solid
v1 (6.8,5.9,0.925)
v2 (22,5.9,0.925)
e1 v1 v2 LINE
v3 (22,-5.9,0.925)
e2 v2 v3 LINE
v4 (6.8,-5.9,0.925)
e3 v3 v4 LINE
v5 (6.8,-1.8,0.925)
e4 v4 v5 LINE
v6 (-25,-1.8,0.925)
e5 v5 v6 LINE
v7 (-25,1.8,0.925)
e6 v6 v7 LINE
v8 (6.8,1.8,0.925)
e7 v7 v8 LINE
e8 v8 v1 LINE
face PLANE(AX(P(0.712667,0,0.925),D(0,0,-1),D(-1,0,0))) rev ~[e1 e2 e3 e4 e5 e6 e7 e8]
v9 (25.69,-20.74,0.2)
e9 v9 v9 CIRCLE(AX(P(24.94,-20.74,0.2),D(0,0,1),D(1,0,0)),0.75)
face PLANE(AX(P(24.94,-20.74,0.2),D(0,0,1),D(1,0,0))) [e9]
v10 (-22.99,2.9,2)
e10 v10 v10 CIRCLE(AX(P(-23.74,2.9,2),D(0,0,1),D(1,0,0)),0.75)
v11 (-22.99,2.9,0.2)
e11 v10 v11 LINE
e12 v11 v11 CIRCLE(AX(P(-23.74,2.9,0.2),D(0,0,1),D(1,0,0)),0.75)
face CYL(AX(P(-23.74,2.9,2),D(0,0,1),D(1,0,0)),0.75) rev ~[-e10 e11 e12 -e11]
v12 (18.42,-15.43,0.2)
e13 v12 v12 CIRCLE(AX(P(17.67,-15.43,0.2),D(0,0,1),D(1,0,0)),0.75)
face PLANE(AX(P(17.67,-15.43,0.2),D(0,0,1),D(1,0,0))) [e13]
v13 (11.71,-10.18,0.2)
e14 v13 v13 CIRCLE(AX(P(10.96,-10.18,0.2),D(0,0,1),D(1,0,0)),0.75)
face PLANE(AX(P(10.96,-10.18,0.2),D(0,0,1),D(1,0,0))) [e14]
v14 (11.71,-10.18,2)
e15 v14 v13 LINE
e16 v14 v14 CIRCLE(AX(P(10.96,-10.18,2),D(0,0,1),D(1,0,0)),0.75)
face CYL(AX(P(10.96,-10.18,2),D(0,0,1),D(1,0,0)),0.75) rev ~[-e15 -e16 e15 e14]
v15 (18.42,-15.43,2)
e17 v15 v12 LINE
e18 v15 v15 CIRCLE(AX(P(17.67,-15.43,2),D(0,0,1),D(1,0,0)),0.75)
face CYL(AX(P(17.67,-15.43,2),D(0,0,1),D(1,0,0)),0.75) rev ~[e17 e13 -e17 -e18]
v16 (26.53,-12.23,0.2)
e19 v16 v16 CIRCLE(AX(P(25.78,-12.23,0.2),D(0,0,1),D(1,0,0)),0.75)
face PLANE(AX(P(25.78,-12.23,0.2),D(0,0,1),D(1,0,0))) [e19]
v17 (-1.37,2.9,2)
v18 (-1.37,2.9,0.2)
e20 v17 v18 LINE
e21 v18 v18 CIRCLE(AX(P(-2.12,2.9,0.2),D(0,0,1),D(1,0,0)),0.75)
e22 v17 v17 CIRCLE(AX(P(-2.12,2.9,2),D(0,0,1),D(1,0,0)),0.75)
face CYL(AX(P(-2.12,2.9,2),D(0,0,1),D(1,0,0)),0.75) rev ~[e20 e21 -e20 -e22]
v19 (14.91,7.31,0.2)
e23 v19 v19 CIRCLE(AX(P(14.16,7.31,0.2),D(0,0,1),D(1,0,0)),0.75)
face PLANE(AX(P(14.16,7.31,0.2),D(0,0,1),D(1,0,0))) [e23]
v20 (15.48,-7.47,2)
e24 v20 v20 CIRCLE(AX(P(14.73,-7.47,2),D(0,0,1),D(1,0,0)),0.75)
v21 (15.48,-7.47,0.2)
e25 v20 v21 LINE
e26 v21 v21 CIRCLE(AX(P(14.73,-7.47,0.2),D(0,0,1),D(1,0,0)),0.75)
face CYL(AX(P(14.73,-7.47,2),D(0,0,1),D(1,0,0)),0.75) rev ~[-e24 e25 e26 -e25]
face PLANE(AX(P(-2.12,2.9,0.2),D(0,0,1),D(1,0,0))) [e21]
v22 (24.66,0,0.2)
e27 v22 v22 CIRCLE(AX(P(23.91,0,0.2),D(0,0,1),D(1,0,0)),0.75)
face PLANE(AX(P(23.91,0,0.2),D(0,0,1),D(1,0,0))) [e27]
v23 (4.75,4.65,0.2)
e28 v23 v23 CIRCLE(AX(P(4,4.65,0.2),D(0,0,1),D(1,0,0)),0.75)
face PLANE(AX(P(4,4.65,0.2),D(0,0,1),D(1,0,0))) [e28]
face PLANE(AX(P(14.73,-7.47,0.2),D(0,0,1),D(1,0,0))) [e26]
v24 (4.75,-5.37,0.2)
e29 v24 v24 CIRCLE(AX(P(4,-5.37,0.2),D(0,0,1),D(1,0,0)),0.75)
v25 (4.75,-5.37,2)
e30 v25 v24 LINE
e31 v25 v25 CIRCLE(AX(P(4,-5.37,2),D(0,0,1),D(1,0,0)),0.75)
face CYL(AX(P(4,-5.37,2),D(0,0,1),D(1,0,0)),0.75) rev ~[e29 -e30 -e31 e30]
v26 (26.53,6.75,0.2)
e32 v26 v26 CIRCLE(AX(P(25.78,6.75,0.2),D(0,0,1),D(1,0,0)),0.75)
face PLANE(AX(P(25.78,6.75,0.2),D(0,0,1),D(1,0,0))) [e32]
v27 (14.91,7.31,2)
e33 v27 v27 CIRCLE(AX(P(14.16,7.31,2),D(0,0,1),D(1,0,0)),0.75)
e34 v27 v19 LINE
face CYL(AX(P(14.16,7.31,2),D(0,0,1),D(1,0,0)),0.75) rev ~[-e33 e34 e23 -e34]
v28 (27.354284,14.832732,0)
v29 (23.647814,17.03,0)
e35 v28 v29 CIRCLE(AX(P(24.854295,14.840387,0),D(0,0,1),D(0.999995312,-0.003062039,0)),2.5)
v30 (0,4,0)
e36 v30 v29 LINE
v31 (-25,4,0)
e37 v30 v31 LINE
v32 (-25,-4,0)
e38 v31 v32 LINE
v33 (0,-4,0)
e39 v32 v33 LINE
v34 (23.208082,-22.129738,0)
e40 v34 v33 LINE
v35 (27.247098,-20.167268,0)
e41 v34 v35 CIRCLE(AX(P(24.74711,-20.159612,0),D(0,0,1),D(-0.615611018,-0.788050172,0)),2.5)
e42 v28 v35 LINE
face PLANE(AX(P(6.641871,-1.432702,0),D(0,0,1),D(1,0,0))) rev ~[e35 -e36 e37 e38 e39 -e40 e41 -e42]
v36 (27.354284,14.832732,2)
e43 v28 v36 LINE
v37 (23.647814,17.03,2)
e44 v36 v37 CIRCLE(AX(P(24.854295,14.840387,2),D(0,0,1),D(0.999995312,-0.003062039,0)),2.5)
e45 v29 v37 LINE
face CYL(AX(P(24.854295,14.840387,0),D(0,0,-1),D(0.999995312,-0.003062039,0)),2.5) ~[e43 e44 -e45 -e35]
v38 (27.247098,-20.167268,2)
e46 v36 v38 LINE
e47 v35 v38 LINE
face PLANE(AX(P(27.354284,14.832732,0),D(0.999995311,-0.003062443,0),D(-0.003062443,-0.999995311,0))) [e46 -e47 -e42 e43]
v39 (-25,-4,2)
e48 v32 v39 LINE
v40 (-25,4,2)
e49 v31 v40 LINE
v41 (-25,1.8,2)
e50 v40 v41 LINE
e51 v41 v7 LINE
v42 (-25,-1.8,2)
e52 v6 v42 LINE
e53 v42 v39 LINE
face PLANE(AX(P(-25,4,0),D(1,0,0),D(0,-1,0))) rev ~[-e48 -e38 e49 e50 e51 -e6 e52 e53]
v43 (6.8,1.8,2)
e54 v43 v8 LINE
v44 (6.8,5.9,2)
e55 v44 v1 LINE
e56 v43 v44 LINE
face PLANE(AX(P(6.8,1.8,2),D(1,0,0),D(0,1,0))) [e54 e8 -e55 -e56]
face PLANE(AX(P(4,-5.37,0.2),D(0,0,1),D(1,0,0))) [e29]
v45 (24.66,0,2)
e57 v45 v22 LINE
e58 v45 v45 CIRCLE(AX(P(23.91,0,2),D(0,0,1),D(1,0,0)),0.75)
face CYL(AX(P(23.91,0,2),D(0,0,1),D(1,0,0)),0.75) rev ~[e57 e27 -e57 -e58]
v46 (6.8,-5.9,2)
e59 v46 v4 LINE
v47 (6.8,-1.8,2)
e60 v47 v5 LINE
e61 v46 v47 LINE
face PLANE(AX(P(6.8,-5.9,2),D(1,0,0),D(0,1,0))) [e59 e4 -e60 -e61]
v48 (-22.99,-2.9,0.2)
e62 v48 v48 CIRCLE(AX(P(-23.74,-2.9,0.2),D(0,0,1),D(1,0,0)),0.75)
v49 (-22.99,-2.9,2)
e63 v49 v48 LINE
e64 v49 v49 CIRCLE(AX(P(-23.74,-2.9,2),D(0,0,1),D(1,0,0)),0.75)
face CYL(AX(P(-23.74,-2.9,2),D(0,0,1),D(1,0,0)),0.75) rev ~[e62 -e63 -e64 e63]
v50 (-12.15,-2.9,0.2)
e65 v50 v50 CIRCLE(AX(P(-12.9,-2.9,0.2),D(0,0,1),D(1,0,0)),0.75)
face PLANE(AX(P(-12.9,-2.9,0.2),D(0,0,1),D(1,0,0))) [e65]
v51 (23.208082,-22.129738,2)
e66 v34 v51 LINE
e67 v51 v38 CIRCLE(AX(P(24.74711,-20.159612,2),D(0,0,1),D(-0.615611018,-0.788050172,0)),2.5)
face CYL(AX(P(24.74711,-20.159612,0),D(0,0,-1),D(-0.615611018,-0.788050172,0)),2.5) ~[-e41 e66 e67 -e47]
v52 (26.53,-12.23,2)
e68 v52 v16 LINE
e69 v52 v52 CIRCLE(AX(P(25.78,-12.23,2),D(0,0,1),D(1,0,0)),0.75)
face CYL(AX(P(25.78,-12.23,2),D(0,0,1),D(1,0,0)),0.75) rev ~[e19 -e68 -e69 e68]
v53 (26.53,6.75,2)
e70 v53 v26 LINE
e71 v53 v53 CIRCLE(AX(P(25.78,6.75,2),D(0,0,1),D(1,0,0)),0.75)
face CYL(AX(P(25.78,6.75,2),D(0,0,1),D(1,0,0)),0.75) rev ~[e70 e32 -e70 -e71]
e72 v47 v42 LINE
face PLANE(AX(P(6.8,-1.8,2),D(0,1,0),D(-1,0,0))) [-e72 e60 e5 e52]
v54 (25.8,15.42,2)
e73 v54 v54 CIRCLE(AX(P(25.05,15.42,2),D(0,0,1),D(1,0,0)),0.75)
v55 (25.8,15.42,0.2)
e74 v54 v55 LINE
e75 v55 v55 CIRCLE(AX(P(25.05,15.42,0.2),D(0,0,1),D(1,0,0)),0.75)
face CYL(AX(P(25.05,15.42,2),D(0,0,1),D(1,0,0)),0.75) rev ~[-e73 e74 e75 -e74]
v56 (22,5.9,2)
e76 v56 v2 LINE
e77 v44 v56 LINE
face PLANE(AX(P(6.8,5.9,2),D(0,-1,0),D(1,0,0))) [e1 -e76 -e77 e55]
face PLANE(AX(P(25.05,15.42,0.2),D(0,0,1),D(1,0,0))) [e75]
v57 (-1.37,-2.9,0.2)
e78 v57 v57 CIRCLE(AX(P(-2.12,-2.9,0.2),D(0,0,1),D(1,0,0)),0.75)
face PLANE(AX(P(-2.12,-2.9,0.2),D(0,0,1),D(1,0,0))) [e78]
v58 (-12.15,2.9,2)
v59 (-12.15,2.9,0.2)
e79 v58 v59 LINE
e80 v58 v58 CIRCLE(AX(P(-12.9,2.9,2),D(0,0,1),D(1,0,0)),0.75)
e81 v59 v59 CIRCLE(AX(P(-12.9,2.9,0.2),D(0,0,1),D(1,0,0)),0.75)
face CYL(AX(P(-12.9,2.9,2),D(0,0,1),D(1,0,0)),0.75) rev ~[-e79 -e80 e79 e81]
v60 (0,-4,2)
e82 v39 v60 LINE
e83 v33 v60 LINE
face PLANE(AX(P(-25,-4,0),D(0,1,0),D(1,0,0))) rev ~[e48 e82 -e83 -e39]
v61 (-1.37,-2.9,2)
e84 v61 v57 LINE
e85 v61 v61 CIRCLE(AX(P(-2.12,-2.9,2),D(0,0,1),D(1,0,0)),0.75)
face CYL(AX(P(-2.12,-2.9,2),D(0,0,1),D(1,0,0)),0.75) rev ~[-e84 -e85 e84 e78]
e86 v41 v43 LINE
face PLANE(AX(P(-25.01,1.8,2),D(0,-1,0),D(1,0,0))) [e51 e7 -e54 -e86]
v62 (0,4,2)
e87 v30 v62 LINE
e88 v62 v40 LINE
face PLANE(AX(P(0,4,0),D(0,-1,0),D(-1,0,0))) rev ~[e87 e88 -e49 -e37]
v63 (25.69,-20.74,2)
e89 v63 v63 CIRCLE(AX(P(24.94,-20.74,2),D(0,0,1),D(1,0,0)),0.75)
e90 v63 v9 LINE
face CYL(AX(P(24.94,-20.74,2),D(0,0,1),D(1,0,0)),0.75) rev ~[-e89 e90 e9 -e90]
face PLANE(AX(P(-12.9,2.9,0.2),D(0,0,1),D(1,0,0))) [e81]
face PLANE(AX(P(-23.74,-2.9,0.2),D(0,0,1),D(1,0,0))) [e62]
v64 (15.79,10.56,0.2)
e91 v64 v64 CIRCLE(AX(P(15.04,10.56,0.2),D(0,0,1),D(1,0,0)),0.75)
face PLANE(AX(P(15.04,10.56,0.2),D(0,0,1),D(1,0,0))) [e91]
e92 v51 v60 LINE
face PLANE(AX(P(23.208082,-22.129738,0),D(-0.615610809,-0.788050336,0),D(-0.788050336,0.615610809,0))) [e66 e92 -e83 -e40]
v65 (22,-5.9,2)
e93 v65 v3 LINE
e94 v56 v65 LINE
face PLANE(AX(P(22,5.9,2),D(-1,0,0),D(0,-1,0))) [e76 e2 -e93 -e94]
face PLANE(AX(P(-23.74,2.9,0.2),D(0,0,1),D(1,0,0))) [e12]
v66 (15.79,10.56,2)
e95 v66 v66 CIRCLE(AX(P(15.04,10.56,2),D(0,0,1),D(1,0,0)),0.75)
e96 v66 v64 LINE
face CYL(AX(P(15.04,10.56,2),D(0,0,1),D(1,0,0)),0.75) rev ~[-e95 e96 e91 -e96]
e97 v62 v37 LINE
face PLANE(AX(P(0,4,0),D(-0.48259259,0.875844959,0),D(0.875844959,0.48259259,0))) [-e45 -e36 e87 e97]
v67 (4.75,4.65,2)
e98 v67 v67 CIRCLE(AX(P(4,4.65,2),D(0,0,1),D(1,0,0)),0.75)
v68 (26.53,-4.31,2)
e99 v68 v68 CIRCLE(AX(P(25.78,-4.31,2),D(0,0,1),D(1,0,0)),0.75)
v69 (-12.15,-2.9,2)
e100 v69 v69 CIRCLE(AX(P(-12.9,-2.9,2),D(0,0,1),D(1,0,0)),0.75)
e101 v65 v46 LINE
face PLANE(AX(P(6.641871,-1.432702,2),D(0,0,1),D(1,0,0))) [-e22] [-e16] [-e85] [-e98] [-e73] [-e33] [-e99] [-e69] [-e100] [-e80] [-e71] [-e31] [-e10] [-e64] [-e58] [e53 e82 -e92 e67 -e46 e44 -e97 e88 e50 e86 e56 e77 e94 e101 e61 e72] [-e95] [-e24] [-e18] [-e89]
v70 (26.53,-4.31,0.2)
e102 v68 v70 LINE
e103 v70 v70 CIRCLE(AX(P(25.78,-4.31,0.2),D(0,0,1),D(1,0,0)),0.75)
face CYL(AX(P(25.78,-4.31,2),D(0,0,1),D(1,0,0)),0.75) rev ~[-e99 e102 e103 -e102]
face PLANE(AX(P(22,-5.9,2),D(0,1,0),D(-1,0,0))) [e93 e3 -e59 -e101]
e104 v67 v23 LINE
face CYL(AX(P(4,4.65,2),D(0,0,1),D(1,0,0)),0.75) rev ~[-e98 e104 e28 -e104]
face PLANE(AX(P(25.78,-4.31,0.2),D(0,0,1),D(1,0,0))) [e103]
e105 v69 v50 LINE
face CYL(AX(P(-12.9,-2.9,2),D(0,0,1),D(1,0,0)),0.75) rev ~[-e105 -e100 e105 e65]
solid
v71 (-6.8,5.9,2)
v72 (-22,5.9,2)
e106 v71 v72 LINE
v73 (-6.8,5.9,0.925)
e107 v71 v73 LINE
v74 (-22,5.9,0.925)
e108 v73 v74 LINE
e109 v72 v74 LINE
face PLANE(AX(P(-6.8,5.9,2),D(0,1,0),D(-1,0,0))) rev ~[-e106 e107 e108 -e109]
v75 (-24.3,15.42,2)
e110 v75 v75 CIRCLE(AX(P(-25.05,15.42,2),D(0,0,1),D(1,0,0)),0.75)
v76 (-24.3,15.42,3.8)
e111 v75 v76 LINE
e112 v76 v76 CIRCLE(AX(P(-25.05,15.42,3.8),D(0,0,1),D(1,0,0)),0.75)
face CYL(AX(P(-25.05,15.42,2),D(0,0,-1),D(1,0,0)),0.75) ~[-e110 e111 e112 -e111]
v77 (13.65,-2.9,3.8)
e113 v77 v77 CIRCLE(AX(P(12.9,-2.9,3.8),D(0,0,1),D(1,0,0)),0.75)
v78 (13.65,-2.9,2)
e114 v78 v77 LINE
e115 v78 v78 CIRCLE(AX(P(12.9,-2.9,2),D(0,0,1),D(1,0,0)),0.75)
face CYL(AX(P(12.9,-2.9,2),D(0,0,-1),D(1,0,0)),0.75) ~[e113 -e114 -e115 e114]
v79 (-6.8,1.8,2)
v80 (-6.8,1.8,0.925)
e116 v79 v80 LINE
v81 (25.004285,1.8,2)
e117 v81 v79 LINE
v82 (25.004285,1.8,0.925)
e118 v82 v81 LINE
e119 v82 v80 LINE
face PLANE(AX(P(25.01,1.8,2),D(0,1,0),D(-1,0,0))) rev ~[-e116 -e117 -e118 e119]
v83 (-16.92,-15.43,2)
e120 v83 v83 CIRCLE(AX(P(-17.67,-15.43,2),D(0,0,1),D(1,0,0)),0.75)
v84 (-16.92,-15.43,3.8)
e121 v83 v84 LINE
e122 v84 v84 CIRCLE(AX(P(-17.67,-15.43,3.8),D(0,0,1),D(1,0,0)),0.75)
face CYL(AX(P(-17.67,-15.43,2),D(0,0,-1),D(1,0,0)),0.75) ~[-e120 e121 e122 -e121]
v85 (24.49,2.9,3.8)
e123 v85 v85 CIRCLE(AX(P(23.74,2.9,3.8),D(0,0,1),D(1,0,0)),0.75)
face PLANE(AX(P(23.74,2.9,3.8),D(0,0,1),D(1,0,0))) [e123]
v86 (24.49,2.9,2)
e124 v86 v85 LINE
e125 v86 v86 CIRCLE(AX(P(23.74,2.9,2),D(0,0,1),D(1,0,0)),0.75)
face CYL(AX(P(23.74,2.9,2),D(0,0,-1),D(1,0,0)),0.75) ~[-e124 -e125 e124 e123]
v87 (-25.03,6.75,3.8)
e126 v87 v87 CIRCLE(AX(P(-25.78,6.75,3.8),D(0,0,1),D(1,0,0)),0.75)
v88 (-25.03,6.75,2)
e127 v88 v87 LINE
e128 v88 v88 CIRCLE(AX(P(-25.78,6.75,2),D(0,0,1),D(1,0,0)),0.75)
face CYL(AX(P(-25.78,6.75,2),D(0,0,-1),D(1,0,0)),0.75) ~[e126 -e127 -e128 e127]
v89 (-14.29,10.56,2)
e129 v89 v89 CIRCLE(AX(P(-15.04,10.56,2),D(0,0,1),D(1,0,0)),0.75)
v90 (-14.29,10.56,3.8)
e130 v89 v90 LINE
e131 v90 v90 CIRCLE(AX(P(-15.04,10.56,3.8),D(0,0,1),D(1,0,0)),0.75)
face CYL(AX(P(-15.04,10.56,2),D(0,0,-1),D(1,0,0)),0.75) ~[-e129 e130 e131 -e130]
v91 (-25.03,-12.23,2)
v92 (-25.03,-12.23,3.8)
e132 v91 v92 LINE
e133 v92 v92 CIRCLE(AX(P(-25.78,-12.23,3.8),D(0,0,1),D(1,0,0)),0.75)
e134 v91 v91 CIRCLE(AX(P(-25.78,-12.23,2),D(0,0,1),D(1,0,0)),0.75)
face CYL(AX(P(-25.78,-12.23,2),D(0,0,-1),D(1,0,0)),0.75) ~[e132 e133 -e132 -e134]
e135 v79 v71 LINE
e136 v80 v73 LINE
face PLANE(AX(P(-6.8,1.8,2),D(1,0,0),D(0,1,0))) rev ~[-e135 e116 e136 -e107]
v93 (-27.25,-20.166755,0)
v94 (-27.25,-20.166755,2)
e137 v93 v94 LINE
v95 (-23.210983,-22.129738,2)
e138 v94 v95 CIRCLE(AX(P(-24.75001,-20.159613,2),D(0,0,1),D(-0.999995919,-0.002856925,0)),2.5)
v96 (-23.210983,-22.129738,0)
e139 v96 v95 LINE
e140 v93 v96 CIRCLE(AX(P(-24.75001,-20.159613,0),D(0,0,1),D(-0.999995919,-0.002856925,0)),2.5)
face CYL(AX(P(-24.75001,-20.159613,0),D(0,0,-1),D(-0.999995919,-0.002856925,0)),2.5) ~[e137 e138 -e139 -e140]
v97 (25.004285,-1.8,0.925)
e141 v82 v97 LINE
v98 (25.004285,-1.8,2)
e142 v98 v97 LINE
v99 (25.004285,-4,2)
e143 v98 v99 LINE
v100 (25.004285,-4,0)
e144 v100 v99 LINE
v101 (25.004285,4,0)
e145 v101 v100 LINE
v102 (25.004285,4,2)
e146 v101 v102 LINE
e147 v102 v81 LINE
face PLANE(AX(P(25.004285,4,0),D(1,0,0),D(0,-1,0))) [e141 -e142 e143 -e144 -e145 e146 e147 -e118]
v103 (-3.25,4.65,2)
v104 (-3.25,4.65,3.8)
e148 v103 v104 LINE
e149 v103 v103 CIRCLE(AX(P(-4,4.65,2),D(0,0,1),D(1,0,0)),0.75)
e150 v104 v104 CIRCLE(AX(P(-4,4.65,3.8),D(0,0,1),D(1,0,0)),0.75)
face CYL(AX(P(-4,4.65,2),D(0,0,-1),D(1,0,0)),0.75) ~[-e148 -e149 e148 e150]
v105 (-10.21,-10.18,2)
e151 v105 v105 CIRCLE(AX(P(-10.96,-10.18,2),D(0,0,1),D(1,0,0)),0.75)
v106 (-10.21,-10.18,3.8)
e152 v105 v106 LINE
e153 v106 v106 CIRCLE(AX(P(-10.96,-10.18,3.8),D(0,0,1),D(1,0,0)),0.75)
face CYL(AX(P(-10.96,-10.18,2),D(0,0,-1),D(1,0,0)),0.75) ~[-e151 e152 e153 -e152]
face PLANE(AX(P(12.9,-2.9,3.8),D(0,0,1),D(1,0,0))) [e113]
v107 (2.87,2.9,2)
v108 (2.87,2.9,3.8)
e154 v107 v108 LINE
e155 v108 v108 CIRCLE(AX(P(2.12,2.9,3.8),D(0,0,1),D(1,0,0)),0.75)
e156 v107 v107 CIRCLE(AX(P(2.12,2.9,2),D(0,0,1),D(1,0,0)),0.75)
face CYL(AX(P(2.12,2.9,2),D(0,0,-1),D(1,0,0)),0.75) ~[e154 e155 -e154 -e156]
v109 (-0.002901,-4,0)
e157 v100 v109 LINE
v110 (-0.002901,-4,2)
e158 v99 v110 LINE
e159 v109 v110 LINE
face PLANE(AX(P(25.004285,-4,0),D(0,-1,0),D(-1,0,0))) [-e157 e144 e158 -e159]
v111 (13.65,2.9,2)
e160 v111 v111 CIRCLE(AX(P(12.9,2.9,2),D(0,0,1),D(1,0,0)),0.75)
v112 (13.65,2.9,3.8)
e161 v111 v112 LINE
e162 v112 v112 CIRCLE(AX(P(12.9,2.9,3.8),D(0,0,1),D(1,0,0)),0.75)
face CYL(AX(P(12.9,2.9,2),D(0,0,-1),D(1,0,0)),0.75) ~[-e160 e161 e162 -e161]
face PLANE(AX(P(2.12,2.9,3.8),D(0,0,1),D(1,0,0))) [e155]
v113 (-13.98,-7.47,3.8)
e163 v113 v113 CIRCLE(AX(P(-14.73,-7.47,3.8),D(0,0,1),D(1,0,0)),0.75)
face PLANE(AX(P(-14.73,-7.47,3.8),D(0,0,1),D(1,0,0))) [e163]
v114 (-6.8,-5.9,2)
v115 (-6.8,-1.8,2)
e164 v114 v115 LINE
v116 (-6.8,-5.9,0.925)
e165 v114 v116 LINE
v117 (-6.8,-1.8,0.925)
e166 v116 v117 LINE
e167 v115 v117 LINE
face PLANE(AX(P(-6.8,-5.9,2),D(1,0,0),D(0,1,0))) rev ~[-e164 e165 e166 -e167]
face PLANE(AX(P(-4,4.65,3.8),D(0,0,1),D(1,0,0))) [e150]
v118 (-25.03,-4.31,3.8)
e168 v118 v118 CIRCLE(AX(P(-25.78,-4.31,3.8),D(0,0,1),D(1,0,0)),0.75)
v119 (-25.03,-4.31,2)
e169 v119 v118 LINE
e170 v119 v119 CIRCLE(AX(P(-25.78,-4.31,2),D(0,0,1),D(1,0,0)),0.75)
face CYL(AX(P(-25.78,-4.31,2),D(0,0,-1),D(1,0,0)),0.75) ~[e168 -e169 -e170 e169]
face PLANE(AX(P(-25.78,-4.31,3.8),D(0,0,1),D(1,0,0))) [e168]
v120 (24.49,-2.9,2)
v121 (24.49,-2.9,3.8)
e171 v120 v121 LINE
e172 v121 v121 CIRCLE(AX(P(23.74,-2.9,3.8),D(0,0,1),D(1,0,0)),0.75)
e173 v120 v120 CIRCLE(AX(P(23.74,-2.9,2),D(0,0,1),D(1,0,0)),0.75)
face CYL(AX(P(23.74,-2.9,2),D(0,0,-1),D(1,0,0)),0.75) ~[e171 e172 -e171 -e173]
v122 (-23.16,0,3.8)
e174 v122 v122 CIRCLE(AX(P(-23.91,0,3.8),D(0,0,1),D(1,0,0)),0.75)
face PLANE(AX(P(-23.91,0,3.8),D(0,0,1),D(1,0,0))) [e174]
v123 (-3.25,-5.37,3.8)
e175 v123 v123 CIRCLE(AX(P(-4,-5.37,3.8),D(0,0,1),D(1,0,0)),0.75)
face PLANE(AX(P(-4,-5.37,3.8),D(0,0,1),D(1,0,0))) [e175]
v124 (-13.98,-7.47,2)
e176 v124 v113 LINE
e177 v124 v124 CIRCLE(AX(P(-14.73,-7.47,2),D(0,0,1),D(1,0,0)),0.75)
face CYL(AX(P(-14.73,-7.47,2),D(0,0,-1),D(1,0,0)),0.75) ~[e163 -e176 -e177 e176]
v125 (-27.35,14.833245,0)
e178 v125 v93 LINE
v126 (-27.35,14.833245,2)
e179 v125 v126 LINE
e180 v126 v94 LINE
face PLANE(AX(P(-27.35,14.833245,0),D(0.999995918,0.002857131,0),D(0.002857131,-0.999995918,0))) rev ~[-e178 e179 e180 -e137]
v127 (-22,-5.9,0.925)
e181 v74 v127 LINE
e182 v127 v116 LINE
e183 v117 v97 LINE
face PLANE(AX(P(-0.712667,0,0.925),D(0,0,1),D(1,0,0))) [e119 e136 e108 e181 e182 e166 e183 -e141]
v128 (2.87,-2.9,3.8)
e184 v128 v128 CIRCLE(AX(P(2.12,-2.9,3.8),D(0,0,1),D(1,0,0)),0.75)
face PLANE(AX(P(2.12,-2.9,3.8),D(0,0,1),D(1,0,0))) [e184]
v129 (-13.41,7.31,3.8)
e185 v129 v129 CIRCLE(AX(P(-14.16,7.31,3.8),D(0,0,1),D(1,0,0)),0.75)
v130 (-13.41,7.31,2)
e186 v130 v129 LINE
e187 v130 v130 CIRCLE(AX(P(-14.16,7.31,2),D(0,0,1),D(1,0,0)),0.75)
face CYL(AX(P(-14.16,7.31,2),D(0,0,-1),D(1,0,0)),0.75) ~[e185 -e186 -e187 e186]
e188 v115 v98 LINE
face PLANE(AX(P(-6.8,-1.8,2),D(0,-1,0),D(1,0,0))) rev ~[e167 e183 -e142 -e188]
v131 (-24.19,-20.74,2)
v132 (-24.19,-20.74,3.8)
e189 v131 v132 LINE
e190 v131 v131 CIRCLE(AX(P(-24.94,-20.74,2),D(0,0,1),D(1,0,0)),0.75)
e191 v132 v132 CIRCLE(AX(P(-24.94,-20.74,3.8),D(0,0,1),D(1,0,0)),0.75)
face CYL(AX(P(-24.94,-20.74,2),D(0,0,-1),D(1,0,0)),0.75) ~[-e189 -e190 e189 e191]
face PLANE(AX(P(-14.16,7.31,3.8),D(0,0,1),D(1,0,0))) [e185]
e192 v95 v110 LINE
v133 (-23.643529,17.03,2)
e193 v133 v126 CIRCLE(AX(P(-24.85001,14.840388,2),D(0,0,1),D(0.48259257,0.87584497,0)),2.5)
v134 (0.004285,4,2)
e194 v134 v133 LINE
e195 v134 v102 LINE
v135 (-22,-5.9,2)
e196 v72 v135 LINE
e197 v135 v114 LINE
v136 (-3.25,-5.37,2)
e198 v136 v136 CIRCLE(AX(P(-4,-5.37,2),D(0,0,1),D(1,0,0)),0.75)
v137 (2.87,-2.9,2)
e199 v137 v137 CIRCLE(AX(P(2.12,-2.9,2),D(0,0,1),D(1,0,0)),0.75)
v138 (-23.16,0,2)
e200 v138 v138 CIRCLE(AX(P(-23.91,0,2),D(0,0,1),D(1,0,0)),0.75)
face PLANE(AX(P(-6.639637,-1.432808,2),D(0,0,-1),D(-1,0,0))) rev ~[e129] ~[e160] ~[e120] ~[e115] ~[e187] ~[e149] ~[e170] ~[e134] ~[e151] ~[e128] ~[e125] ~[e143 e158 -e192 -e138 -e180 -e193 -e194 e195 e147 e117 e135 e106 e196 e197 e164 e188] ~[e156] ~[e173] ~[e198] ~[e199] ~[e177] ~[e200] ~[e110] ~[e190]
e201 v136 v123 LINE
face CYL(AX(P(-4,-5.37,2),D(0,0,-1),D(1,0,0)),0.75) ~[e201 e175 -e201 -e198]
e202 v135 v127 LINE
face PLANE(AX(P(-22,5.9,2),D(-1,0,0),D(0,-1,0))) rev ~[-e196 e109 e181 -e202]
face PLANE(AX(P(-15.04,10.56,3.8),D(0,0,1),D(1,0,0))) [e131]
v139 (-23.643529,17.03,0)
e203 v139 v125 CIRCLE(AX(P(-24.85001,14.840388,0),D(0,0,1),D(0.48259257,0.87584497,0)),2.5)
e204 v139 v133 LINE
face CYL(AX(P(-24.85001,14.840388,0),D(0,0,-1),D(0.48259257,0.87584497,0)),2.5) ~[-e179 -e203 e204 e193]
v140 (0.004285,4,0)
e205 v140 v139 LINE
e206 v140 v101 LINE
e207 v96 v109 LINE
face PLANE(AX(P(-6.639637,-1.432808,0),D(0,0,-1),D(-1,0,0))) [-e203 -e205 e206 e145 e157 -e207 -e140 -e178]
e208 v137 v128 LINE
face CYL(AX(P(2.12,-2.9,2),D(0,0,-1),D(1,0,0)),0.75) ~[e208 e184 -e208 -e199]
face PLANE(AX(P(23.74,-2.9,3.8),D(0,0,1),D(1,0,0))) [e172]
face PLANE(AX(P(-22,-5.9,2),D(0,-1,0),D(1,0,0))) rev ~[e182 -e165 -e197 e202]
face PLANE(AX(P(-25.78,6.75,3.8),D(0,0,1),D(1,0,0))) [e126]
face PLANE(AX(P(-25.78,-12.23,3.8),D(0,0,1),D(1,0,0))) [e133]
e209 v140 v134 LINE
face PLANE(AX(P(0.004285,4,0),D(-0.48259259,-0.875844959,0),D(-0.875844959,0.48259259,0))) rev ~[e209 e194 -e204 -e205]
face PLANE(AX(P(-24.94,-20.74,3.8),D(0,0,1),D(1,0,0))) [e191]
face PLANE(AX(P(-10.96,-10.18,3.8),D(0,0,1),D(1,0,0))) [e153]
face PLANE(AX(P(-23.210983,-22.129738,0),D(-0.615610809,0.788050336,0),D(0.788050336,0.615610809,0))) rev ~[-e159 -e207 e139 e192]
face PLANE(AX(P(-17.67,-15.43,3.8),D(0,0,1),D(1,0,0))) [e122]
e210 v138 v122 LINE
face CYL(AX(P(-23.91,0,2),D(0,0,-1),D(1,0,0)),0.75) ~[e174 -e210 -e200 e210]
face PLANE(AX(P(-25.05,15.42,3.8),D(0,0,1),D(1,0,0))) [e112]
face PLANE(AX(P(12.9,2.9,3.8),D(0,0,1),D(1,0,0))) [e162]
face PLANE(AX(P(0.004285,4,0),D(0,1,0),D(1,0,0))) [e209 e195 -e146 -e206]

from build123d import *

# Parameters (mm, degrees)
PAD_DEPTH           = 2
POCKET_DEPTH        = 1.075
SKETCH002_R         = 0.75
POCKET001_DEPTH     = 1.8
PAD001_DEPTH        = 2
POCKET002_DEPTH     = 1.075
MIRROREDSKETCH002_R = 0.75
PAD002_DEPTH        = 1.8


with BuildPart() as keybody:
    # Sketch → Pad (new body)
    with BuildSketch(Plane.XY):
        with BuildLine():
            Line((0, 4), (-25, 4))
            Line((-25, 4), (-25, -4))
            Line((-25, -4), (0, -4))
            Line((23.208082, -22.129738), (0, -4))
            ThreePointArc((23.208082, -22.129738), (25.839668, -22.408238), (27.247098, -20.167268))
            Line((27.354284, 14.832732), (27.247098, -20.167268))
            ThreePointArc((27.354284, 14.832732), (26.129163, 16.990902), (23.647814, 17.03))
            Line((0, 4), (23.647814, 17.03))
        make_face()
    extrude(amount=PAD_DEPTH)

    # Sketch001 (on Face10 of Pad) → Pocket (cut)
    with BuildSketch(Plane.XY.offset(2)):
        Polygon((6.8, 5.9), (22, 5.9), (22, -5.9), (6.8, -5.9), (6.8, -1.8), (-25.01, -1.8), (-25.01, 1.8), (6.8, 1.8), align=None)
    extrude(amount=-POCKET_DEPTH, mode=Mode.SUBTRACT)

    # Sketch002 (on Face5 of Pocket) → Pocket001 (cut)
    with BuildSketch(Plane.XY.offset(2)):
        with Locations((-23.74, 2.9)):
            Circle(SKETCH002_R)
        with Locations((-23.74, -2.9)):
            Circle(SKETCH002_R)
        with Locations((-12.9, 2.9)):
            Circle(SKETCH002_R)
        with Locations((-2.12, 2.9)):
            Circle(SKETCH002_R)
        with Locations((-2.12, -2.9)):
            Circle(SKETCH002_R)
        with Locations((-12.9, -2.9)):
            Circle(SKETCH002_R)
        with Locations((4, 4.65)):
            Circle(SKETCH002_R)
        with Locations((4, -5.37)):
            Circle(SKETCH002_R)
        with Locations((14.73, -7.47)):
            Circle(SKETCH002_R)
        with Locations((14.16, 7.31)):
            Circle(SKETCH002_R)
        with Locations((23.91, 0)):
            Circle(SKETCH002_R)
        with Locations((15.04, 10.56)):
            Circle(SKETCH002_R)
        with Locations((25.05, 15.42)):
            Circle(SKETCH002_R)
        with Locations((25.78, 6.75)):
            Circle(SKETCH002_R)
        with Locations((25.78, -4.31)):
            Circle(SKETCH002_R)
        with Locations((25.78, -12.23)):
            Circle(SKETCH002_R)
        with Locations((24.94, -20.74)):
            Circle(SKETCH002_R)
        with Locations((17.67, -15.43)):
            Circle(SKETCH002_R)
        with Locations((10.96, -10.18)):
            Circle(SKETCH002_R)
    extrude(amount=-POCKET001_DEPTH, mode=Mode.SUBTRACT)


with BuildPart() as keybody2:
    # MirroredSketch → Pad001 (new body)
    with BuildSketch(Plane.XY):
        with BuildLine():
            Line((0.004285, 4), (25.004285, 4))
            Line((25.004285, 4), (25.004285, -4))
            Line((25.004285, -4), (-0.002901, -4))
            Line((-23.210983, -22.129738), (-0.002901, -4))
            ThreePointArc((-27.25, -20.166755), (-25.842799, -22.408126), (-23.210983, -22.129738))
            Line((-27.35, 14.833245), (-27.25, -20.166755))
            ThreePointArc((-23.643529, 17.03), (-26.124657, 16.991033), (-27.35, 14.833245))
            Line((0.004285, 4), (-23.643529, 17.03))
        make_face()
    extrude(amount=PAD001_DEPTH)

    # MirroredSketch001 (on Face10 of Pad001) → Pocket002 (cut)
    with BuildSketch(Plane.XY.offset(2)):
        Polygon((-6.8, 5.9), (-22, 5.9), (-22, -5.9), (-6.8, -5.9), (-6.8, -1.8), (25.01, -1.8), (25.01, 1.8), (-6.8, 1.8), align=None)
    extrude(amount=-POCKET002_DEPTH, mode=Mode.SUBTRACT)

    # MirroredSketch002 (on Face5 of Pocket002) → Pad002 (join)
    with BuildSketch(Plane.XY.offset(2)):
        with Locations((23.74, 2.9)):
            Circle(MIRROREDSKETCH002_R)
        with Locations((23.74, -2.9)):
            Circle(MIRROREDSKETCH002_R)
        with Locations((12.9, 2.9)):
            Circle(MIRROREDSKETCH002_R)
        with Locations((2.12, 2.9)):
            Circle(MIRROREDSKETCH002_R)
        with Locations((2.12, -2.9)):
            Circle(MIRROREDSKETCH002_R)
        with Locations((12.9, -2.9)):
            Circle(MIRROREDSKETCH002_R)
        with Locations((-4, 4.65)):
            Circle(MIRROREDSKETCH002_R)
        with Locations((-4, -5.37)):
            Circle(MIRROREDSKETCH002_R)
        with Locations((-14.73, -7.47)):
            Circle(MIRROREDSKETCH002_R)
        with Locations((-14.16, 7.31)):
            Circle(MIRROREDSKETCH002_R)
        with Locations((-23.91, 0)):
            Circle(MIRROREDSKETCH002_R)
        with Locations((-15.04, 10.56)):
            Circle(MIRROREDSKETCH002_R)
        with Locations((-25.05, 15.42)):
            Circle(MIRROREDSKETCH002_R)
        with Locations((-25.78, 6.75)):
            Circle(MIRROREDSKETCH002_R)
        with Locations((-25.78, -4.31)):
            Circle(MIRROREDSKETCH002_R)
        with Locations((-25.78, -12.23)):
            Circle(MIRROREDSKETCH002_R)
        with Locations((-24.94, -20.74)):
            Circle(MIRROREDSKETCH002_R)
        with Locations((-17.67, -15.43)):
            Circle(MIRROREDSKETCH002_R)
        with Locations((-10.96, -10.18)):
            Circle(MIRROREDSKETCH002_R)
    extrude(amount=PAD002_DEPTH)


solid = Compound([keybody.part, keybody2.part])
